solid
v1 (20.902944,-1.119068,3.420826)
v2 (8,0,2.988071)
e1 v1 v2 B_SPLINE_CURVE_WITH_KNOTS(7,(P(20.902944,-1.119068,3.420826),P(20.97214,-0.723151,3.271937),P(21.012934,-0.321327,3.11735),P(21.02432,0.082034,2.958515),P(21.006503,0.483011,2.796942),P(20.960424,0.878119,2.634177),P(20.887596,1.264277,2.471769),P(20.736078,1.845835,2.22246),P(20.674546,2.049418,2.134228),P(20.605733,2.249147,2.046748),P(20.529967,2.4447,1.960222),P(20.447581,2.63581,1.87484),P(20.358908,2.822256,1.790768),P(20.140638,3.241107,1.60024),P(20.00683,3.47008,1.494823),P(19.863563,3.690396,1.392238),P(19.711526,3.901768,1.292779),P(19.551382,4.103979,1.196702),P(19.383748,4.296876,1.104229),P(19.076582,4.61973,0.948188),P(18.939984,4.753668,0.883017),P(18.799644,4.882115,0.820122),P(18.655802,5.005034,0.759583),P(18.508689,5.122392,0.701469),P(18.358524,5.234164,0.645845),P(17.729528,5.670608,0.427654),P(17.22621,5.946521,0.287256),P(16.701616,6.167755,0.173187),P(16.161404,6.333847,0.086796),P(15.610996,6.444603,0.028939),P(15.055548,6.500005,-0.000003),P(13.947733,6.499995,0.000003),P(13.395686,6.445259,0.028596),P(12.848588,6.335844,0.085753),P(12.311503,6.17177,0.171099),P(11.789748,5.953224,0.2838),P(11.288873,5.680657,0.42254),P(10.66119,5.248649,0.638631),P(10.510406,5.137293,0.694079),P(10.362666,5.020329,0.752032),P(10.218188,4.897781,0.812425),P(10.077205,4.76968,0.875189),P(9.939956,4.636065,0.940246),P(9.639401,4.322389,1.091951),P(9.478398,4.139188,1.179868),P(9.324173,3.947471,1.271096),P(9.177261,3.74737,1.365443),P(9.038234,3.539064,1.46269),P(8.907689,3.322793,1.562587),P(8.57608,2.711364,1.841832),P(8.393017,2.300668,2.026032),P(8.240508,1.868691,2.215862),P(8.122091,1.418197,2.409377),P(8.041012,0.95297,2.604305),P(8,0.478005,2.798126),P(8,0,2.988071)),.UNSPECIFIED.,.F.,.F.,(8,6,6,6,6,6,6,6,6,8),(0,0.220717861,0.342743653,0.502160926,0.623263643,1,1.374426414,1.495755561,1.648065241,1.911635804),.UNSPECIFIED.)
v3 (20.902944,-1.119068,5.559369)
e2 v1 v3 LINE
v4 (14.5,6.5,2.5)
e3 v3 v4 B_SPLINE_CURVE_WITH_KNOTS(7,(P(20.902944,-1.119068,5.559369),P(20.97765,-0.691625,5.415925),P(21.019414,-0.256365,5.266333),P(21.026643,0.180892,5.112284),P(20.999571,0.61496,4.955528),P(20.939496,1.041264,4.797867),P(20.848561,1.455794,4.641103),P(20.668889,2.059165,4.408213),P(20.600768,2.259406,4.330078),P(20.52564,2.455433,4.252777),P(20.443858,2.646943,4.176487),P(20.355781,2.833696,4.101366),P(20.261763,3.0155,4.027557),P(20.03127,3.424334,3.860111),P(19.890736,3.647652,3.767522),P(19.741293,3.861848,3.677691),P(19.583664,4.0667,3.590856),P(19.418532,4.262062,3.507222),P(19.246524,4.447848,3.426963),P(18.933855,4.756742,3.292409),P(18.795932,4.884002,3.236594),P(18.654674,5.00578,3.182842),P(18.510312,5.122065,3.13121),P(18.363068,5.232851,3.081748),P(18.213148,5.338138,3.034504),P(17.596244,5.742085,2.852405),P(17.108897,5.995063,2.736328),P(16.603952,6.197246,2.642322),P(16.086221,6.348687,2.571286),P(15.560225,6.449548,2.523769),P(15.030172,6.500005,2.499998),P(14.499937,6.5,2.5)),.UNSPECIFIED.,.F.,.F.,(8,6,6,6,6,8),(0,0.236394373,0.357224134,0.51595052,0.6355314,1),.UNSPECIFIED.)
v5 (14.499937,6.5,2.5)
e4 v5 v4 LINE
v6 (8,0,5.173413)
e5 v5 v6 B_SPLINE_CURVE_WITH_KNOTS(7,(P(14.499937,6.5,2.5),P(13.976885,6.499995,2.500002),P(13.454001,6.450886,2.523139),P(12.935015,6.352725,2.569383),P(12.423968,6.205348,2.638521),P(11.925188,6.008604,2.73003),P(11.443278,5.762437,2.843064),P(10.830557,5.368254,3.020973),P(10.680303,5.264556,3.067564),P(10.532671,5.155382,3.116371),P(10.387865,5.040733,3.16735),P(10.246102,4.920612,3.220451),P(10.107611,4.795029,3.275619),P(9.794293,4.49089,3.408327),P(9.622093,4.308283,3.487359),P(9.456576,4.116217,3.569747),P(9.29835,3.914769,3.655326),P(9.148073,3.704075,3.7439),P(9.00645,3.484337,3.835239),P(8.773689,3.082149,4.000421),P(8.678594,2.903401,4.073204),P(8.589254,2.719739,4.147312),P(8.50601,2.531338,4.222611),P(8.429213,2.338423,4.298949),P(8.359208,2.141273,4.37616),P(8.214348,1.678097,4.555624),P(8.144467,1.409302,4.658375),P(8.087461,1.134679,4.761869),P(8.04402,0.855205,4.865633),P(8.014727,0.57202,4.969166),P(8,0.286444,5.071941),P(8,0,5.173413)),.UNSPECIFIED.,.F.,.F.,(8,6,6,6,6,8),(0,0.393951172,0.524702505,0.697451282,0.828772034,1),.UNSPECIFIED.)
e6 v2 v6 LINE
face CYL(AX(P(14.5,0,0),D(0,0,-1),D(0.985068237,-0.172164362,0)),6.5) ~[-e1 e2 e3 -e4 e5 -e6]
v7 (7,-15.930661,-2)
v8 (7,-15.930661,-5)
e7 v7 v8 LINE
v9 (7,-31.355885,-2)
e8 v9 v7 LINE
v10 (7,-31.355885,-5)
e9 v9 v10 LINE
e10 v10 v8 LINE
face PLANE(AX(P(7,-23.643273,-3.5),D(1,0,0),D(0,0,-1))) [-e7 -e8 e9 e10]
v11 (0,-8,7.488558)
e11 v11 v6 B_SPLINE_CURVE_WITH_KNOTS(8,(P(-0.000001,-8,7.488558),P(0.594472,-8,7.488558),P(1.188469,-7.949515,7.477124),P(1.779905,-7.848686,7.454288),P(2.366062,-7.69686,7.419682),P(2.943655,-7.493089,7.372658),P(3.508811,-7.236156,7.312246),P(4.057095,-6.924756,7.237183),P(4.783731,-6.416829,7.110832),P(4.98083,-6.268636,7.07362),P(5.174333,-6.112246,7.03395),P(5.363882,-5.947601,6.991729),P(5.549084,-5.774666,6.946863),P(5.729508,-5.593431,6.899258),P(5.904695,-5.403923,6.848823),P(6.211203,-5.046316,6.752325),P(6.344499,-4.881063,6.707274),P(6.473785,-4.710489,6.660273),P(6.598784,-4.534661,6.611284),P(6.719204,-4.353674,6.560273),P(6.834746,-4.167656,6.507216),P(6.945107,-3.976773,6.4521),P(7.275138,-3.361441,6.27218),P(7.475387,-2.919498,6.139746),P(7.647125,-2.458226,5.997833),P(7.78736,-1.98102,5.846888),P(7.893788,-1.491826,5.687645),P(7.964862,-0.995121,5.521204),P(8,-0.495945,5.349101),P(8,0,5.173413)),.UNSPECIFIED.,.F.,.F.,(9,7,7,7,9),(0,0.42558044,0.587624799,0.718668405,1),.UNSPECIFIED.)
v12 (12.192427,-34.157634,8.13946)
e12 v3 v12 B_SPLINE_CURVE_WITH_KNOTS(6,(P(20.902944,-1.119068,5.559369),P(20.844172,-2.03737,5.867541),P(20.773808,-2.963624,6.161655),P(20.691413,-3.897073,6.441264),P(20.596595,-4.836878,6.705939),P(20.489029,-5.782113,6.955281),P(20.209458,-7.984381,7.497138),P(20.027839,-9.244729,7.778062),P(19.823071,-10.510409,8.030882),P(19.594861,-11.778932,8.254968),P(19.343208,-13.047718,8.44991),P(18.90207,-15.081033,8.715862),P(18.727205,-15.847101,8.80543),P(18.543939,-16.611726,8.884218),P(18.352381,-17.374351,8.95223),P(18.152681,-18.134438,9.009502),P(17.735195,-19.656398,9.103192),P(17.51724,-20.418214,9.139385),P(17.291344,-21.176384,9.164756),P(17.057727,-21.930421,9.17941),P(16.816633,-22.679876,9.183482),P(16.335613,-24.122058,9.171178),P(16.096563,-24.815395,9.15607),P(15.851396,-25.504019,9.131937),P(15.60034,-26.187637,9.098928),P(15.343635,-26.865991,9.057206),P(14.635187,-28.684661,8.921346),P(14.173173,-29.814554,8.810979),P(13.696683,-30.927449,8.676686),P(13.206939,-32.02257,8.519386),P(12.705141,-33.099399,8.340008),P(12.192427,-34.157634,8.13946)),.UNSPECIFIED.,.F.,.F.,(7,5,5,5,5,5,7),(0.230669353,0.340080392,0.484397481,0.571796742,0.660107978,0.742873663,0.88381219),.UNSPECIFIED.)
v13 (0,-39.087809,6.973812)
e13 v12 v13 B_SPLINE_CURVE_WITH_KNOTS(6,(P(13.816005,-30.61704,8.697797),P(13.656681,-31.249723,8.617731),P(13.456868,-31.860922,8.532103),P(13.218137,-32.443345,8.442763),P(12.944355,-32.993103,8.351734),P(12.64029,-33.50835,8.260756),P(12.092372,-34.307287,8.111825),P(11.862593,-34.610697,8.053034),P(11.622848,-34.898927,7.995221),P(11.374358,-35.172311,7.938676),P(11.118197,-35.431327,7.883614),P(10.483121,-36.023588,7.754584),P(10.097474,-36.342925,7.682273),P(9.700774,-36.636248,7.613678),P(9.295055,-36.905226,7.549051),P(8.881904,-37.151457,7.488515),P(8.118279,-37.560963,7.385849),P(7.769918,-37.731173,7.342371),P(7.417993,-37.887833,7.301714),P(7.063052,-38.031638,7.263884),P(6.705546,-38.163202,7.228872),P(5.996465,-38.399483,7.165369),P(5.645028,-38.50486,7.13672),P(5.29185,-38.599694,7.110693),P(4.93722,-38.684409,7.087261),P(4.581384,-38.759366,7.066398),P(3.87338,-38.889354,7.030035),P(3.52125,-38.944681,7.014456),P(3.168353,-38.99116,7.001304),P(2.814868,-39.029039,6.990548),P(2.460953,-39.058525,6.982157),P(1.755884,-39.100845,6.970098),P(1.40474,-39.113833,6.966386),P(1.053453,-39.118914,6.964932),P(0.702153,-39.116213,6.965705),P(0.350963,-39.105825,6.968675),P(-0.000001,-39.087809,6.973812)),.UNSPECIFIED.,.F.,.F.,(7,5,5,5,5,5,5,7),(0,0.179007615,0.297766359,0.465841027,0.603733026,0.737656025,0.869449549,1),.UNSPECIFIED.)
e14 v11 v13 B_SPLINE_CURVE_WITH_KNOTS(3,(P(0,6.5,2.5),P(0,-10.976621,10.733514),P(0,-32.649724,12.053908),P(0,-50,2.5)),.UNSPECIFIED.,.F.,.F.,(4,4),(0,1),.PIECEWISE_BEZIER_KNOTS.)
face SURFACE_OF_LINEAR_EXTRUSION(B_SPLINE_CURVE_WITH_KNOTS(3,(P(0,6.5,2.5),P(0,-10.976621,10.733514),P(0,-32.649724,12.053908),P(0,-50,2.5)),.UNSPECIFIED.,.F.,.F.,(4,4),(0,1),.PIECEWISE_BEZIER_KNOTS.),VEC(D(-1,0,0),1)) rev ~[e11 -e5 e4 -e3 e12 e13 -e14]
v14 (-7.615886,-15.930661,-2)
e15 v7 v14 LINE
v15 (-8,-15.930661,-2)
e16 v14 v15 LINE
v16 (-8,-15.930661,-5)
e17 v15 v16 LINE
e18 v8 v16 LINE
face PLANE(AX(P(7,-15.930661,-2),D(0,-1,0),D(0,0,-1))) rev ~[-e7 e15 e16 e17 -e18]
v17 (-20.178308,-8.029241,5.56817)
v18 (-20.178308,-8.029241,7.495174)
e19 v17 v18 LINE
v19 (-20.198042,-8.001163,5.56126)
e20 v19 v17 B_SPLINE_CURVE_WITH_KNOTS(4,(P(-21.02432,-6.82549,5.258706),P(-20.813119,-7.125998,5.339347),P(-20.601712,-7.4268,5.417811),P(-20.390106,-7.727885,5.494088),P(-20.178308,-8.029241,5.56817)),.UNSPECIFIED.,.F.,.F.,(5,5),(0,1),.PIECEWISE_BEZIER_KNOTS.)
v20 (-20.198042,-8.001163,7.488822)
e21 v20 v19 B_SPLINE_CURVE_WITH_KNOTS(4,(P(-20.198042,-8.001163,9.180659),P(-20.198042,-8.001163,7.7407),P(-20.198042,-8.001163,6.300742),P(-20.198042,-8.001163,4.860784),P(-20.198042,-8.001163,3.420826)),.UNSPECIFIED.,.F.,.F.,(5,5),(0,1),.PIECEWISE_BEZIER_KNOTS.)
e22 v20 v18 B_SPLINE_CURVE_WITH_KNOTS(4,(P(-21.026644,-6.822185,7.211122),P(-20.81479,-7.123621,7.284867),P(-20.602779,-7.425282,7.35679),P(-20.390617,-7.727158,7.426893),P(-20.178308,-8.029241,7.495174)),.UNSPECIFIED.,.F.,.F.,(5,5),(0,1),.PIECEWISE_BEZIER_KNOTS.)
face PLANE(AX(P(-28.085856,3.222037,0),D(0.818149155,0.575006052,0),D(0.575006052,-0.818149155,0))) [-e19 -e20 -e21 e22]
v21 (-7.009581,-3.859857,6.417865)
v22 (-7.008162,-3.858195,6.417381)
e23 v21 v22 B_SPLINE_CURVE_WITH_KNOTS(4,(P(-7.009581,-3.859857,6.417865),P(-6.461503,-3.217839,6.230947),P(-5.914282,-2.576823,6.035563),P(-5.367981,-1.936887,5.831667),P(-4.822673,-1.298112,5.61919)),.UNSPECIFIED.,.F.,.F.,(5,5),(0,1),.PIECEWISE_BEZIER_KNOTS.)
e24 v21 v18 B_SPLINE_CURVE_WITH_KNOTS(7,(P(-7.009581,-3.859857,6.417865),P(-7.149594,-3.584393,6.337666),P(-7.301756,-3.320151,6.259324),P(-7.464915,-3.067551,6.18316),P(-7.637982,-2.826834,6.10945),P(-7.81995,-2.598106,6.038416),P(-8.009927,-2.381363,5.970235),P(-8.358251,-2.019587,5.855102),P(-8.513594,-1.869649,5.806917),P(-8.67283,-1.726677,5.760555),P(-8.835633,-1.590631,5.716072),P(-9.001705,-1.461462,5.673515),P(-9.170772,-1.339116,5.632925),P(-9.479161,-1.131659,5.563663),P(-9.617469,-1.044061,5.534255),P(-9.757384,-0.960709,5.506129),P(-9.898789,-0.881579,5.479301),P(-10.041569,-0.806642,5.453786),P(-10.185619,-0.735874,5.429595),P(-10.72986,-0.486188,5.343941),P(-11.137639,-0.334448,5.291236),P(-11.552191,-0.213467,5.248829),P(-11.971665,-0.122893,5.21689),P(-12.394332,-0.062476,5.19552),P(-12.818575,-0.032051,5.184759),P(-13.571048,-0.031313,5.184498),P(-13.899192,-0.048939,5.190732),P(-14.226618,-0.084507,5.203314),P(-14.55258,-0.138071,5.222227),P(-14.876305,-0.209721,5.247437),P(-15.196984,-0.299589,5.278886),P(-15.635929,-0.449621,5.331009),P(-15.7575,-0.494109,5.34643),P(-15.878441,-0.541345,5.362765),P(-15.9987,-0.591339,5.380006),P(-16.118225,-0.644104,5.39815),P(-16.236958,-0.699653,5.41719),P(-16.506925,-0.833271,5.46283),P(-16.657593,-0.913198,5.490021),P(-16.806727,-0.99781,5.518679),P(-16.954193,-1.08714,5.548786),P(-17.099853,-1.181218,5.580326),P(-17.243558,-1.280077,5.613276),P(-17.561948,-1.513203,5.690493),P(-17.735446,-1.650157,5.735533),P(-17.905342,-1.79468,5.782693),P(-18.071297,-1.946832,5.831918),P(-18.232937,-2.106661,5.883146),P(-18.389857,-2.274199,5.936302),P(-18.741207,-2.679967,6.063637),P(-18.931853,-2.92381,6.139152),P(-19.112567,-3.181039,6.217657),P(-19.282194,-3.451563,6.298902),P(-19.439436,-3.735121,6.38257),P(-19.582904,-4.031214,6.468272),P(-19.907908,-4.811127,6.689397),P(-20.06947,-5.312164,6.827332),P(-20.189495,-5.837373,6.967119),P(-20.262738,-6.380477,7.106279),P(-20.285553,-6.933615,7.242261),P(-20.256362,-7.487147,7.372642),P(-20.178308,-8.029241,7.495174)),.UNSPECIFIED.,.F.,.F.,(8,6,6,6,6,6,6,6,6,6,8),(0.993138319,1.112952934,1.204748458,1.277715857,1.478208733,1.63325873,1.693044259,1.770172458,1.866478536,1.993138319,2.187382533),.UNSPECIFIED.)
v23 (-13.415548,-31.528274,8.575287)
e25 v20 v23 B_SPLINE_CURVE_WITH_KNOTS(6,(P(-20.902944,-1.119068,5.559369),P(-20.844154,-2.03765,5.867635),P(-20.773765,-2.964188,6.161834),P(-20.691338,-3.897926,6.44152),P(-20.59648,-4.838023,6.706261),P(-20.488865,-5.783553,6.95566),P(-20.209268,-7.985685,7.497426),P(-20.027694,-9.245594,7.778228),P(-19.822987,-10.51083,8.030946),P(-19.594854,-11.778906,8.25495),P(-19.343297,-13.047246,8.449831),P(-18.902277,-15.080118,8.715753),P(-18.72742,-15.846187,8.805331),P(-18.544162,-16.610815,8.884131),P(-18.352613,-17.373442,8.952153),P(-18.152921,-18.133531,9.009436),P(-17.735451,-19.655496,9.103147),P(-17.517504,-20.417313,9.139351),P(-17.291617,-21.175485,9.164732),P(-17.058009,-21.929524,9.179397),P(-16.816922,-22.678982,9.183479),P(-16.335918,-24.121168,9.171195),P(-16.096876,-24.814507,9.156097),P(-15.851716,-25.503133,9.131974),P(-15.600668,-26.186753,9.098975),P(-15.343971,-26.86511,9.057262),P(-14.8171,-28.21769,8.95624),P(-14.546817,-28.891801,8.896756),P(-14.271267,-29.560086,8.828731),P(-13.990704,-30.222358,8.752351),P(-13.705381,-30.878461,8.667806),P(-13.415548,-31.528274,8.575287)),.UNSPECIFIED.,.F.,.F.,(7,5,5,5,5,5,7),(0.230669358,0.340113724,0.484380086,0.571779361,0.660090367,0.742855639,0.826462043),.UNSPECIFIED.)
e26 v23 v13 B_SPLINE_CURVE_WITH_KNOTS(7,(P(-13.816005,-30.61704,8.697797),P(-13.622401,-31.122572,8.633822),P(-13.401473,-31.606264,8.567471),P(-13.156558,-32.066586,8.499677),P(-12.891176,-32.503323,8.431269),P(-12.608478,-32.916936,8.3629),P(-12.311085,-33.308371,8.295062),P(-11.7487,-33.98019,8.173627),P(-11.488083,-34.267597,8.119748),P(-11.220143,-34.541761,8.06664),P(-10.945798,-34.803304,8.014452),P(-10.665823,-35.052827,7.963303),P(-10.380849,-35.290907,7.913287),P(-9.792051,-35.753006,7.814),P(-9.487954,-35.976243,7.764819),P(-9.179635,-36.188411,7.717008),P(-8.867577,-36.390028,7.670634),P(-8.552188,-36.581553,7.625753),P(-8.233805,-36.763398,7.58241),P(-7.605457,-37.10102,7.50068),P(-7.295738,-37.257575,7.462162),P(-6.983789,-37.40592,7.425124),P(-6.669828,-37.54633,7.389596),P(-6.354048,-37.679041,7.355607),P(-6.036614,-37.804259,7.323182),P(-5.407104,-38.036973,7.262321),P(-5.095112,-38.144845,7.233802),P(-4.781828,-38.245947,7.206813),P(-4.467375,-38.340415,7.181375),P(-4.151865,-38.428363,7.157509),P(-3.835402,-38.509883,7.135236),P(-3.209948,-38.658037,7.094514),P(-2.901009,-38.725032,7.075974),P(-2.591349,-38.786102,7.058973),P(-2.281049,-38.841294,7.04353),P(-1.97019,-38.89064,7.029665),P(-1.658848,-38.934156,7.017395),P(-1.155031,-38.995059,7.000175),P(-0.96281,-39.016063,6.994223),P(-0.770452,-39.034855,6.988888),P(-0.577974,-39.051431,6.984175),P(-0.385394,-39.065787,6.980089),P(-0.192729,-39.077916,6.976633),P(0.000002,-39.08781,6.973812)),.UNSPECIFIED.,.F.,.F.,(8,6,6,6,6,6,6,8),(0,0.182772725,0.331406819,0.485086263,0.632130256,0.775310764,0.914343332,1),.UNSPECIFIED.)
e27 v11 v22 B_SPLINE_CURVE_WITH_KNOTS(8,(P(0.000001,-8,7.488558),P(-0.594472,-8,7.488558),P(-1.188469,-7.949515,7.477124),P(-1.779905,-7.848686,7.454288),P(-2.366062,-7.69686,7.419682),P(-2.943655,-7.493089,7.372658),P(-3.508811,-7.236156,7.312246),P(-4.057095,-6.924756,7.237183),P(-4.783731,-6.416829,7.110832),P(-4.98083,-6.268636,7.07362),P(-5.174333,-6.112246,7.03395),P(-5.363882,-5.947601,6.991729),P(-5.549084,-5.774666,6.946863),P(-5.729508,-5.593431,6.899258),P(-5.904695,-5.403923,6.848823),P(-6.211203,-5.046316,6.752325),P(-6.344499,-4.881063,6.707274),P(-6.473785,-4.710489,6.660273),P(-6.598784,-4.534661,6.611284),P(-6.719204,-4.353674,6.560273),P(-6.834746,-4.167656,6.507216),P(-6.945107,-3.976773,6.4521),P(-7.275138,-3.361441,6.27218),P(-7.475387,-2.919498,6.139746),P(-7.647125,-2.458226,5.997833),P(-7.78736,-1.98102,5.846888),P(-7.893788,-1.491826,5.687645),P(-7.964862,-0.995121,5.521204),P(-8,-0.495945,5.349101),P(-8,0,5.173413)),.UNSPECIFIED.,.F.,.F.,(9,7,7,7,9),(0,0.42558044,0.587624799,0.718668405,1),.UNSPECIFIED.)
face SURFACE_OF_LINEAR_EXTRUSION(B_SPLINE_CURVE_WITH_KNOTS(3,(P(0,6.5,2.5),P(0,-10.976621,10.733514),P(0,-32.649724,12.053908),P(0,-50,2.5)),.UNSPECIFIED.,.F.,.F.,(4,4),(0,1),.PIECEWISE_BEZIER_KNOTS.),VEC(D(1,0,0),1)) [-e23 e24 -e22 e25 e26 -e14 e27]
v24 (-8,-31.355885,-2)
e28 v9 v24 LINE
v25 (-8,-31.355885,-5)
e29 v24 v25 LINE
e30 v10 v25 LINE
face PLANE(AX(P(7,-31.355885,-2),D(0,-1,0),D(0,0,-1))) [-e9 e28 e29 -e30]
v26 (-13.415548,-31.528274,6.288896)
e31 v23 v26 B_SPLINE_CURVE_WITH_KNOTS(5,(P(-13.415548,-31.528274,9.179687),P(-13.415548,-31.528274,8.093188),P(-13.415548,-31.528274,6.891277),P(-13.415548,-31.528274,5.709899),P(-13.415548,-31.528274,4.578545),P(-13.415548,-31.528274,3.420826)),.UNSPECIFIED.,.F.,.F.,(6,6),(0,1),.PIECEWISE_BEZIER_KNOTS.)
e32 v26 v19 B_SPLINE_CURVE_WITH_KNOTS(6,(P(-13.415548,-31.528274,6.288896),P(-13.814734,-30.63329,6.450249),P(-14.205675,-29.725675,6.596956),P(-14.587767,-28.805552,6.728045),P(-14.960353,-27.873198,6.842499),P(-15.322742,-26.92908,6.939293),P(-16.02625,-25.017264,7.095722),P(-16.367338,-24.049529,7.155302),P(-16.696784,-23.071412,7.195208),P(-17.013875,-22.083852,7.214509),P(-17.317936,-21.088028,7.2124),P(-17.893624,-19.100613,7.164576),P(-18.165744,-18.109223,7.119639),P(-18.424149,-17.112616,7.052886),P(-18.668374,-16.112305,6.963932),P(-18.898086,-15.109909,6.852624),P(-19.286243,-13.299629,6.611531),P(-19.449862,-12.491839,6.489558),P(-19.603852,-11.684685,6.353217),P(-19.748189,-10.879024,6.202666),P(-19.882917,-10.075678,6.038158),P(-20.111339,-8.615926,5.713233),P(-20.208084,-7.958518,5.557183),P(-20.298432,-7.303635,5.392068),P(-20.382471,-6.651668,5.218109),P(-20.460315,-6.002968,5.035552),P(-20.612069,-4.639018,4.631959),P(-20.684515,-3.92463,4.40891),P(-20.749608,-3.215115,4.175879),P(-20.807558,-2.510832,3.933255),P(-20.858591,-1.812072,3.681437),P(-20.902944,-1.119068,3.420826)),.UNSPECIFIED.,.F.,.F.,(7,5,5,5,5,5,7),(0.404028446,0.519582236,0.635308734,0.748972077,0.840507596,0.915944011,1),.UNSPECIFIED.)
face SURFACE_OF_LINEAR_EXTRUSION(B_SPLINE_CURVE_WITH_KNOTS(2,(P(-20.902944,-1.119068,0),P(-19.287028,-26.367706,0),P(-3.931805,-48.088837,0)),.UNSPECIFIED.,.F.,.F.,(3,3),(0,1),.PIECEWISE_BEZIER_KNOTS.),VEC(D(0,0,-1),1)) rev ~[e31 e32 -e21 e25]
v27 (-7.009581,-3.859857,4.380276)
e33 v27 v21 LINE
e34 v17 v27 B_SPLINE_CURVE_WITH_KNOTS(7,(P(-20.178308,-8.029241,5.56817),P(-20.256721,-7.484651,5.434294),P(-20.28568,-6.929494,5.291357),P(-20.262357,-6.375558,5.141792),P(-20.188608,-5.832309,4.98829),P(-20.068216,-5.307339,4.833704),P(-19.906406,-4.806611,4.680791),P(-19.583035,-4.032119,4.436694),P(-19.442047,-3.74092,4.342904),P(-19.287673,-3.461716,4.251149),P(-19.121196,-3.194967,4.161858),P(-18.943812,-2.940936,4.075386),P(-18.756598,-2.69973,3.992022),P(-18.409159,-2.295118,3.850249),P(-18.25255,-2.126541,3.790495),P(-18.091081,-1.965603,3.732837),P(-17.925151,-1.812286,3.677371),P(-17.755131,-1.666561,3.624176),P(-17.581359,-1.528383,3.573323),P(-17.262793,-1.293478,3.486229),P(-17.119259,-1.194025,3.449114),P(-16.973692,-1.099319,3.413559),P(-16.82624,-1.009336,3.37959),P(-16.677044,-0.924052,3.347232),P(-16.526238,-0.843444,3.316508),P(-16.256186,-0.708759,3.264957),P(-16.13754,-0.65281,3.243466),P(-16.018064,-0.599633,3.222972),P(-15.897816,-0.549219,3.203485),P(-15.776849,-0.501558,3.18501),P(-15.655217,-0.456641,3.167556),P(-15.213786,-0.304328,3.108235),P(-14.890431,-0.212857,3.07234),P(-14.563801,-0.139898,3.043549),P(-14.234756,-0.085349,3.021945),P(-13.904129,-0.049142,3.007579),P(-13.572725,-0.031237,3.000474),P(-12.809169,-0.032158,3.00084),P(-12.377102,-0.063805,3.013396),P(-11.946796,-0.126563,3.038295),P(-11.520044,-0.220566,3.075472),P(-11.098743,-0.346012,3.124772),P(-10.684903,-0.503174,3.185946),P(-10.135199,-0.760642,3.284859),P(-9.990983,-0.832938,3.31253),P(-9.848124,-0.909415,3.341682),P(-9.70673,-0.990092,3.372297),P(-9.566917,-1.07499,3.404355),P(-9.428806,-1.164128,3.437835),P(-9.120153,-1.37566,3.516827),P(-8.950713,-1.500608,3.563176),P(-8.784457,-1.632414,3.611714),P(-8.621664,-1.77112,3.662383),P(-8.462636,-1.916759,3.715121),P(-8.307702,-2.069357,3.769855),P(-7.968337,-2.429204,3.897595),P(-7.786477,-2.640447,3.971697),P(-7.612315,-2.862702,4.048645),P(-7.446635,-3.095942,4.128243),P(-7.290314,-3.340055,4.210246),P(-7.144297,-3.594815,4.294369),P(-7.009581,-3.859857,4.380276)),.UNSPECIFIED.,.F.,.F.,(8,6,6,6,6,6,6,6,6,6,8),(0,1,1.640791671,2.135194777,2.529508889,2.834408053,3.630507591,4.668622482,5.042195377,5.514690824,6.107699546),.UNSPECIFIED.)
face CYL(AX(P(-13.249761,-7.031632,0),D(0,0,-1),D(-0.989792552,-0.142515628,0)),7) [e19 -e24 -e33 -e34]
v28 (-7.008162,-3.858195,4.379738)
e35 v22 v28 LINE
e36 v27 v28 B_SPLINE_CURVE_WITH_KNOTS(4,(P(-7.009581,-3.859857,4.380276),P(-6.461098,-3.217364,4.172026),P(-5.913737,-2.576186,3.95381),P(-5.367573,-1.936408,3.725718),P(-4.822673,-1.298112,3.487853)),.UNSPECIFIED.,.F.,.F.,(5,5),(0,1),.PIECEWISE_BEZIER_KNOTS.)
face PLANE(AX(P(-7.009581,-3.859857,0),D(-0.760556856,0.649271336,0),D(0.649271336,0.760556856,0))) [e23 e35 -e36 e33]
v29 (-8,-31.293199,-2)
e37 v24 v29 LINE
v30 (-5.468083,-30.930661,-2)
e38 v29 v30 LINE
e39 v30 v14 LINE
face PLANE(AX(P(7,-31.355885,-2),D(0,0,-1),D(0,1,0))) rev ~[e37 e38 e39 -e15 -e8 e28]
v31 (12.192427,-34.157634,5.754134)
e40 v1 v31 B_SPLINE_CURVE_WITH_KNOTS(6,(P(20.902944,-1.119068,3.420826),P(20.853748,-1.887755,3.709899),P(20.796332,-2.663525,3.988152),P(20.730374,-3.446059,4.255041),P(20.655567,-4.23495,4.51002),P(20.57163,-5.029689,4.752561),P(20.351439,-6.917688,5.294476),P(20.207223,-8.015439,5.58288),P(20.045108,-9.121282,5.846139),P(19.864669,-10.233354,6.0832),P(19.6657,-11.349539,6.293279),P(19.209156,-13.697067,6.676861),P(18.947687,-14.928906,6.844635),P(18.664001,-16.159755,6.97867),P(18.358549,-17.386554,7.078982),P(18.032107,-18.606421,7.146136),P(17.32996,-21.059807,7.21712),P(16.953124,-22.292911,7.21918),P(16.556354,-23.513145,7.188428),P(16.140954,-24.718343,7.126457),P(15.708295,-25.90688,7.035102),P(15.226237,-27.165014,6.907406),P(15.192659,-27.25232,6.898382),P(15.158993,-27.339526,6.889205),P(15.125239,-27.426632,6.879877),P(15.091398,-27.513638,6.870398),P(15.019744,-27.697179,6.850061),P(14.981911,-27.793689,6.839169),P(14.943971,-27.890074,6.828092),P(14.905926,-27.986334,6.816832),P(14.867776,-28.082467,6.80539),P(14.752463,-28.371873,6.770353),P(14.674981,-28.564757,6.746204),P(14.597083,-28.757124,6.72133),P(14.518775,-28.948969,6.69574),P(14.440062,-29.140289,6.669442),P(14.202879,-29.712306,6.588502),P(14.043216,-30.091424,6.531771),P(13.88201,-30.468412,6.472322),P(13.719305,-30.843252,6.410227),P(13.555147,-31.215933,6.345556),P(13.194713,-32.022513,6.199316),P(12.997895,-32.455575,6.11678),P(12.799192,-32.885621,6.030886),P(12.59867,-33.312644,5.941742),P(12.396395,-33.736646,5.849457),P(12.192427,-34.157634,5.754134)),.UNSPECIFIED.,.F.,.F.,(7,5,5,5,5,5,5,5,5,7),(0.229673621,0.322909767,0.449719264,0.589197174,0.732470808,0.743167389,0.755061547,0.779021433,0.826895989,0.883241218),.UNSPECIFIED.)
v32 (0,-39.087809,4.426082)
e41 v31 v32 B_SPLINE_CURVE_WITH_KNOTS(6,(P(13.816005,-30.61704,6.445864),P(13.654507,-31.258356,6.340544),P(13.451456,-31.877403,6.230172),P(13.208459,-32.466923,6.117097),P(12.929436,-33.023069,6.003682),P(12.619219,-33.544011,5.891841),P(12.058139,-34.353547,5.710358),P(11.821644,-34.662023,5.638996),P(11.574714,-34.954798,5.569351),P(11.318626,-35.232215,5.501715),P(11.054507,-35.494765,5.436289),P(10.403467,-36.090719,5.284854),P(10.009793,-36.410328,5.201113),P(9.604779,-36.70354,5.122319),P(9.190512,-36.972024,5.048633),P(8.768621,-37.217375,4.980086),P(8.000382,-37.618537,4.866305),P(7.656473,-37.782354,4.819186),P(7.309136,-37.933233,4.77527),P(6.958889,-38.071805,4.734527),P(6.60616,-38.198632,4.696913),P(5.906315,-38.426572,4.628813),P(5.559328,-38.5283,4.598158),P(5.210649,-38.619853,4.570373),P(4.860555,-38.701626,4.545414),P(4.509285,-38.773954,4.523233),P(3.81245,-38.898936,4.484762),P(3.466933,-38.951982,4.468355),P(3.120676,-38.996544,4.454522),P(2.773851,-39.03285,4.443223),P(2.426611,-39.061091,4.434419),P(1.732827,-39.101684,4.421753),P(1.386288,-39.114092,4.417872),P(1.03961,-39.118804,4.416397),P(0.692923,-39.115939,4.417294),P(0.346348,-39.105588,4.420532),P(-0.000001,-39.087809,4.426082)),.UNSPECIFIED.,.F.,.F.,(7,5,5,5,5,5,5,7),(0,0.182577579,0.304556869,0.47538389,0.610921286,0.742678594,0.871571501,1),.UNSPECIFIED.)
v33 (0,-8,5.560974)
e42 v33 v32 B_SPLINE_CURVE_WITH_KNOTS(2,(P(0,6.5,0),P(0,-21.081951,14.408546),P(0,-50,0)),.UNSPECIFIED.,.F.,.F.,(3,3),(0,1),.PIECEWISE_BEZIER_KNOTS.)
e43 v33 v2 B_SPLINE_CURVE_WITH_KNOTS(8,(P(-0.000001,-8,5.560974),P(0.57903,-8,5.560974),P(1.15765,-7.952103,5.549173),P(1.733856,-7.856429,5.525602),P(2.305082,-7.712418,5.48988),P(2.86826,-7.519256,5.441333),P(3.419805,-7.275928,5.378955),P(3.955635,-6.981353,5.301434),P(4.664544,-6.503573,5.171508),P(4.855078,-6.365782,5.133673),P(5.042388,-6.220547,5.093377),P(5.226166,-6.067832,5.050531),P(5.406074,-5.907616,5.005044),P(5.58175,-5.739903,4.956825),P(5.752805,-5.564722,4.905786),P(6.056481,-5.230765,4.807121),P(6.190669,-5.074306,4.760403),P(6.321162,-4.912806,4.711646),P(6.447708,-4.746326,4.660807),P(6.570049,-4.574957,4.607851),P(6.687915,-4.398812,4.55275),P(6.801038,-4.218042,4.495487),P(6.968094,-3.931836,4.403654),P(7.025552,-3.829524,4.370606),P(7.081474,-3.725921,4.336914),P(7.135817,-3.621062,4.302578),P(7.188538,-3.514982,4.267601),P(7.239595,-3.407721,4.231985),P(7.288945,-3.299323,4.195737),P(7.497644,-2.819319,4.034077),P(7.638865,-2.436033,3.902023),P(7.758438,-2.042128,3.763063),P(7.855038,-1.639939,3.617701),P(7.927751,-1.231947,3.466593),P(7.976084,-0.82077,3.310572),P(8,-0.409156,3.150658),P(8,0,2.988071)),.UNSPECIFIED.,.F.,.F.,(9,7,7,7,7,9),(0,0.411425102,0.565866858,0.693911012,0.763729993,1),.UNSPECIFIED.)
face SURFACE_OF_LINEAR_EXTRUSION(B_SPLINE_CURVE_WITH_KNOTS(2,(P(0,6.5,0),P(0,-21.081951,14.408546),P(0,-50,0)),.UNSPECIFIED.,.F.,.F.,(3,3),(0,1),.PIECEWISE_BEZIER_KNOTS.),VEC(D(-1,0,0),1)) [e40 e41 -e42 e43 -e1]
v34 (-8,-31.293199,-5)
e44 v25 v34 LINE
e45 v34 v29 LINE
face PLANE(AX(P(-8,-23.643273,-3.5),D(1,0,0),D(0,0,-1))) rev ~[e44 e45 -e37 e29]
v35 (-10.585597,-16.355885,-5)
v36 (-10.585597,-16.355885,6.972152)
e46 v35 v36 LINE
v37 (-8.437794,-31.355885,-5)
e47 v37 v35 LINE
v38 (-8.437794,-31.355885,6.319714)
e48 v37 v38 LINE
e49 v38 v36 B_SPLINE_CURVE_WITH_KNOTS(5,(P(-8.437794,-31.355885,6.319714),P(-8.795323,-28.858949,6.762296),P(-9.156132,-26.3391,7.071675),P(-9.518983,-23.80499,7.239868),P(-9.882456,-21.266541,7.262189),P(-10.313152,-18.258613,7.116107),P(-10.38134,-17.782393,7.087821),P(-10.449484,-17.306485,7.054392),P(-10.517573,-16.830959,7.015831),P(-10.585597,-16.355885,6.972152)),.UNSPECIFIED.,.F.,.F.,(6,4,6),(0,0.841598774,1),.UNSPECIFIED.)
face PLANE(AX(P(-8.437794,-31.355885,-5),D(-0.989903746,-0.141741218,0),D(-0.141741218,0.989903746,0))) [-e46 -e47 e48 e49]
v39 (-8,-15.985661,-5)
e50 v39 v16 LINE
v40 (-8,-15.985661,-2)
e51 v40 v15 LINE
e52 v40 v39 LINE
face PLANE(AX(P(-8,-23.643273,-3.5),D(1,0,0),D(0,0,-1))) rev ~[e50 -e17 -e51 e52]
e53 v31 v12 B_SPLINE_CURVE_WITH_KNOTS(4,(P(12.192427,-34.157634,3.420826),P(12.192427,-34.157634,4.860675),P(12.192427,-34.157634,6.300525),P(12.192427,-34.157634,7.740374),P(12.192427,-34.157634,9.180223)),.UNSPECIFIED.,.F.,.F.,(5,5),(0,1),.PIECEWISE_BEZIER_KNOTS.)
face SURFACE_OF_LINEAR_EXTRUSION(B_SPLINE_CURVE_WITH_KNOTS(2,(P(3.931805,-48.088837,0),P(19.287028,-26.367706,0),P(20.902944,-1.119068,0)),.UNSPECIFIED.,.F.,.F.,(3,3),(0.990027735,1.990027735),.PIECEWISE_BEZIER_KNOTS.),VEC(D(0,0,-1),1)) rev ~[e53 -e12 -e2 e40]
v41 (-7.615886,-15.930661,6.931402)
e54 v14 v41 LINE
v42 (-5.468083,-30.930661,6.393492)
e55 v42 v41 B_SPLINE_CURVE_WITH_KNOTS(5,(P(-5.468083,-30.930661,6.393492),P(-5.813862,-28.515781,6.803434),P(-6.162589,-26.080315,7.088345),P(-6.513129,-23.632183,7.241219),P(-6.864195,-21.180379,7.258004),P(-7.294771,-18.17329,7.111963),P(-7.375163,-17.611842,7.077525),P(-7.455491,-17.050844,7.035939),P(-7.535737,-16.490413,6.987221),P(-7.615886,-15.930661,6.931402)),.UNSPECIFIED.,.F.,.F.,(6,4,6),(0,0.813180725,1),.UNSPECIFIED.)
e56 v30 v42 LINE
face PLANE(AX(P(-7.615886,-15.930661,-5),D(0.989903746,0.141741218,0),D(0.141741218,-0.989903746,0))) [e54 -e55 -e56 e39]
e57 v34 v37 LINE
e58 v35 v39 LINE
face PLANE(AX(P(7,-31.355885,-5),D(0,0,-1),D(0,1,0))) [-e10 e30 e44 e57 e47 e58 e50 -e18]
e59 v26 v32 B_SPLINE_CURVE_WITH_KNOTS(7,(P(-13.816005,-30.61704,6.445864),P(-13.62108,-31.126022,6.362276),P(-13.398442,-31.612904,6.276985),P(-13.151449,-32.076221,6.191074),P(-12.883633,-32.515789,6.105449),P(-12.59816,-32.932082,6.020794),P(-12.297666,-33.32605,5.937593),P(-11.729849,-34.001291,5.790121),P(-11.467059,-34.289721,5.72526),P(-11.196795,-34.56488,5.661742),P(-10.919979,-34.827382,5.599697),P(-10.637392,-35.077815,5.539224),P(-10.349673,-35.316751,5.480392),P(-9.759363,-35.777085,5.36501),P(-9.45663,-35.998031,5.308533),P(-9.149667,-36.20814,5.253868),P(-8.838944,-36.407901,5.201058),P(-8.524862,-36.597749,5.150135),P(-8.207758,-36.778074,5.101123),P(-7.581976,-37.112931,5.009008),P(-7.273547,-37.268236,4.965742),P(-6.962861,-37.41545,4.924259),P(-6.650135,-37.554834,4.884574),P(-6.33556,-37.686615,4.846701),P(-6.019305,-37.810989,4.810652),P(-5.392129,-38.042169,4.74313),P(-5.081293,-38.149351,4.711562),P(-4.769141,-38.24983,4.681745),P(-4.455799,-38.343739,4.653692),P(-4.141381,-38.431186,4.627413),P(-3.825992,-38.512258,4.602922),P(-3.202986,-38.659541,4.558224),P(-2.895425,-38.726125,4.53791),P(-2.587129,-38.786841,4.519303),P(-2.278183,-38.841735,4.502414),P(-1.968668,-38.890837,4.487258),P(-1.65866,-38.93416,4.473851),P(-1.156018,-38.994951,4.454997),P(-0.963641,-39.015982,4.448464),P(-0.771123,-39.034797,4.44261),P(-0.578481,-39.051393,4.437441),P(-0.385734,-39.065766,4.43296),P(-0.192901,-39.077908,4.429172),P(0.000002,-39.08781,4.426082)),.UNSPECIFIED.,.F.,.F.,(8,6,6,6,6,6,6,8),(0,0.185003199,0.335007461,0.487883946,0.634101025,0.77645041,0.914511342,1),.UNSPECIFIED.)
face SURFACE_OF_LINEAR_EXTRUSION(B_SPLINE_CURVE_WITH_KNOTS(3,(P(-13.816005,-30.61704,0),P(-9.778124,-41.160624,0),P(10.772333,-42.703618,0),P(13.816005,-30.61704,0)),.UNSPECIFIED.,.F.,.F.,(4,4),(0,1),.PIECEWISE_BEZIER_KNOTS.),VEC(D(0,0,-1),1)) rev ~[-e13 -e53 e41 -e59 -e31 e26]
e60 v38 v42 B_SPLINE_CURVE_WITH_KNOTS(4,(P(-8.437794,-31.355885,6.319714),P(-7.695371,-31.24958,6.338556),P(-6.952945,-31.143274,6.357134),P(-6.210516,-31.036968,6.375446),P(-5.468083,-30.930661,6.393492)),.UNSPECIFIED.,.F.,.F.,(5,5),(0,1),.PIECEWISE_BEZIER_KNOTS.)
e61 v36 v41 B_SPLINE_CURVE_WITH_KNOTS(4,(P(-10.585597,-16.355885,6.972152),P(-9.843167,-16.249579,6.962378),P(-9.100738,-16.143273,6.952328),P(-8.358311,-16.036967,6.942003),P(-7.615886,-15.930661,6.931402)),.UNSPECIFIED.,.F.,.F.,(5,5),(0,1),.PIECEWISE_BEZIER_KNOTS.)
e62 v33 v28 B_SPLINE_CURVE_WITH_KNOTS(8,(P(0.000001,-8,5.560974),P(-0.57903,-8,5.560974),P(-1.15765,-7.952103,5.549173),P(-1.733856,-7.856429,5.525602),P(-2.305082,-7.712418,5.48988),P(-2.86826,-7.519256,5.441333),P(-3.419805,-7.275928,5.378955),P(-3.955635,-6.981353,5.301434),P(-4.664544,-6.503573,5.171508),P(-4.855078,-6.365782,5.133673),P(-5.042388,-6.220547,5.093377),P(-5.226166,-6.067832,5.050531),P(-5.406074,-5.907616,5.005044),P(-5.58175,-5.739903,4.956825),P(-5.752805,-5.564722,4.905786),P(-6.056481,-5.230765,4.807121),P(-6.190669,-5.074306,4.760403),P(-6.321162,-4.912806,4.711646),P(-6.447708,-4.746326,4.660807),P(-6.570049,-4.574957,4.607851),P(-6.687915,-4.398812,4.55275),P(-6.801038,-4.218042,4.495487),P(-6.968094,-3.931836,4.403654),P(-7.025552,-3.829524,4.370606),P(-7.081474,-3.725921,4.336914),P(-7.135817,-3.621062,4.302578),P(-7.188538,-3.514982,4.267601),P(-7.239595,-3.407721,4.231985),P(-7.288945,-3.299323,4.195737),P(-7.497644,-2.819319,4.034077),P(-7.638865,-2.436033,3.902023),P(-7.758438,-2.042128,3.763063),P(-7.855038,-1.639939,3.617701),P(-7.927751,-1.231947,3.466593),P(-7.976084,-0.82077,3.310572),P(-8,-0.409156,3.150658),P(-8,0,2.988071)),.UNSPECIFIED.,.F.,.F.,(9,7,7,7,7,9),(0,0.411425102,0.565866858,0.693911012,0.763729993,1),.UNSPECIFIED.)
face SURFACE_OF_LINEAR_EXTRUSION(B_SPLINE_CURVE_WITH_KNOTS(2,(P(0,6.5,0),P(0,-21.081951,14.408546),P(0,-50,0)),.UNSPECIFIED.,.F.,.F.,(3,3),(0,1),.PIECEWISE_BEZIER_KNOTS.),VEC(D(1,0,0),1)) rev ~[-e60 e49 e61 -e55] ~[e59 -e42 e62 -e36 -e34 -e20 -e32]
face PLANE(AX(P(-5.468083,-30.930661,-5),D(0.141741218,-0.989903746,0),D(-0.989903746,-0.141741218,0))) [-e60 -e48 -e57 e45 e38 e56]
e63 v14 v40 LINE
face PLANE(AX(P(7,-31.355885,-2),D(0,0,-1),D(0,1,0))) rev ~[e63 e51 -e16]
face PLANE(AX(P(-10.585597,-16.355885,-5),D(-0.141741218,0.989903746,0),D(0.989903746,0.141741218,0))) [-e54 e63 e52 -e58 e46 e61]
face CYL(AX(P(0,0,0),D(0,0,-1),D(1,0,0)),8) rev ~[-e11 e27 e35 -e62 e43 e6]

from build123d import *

# Parameters (mm, degrees)
BOSS_EXTRUDE1_DEPTH     = 10
SKETCH3_W               = 26.349262508
SKETCH3_H               = 68.843906453
CUT_EXTRUDE1_DEPTH      = 56.145262863
CUT_EXTRUDE1_DEPTH_BACK = 56.145262863
CUT_EXTRUDE2_DEPTH      = 56.002384149
CUT_EXTRUDE2_DEPTH_BACK = 56.002384149
CUT_EXTRUDE4_DEPTH      = 10
CUT_EXTRUDE5_DEPTH      = 46.333254596
CUT_EXTRUDE5_DEPTH_BACK = 46.333254596
BOSS_EXTRUDE2_START     = -5
BOSS_EXTRUDE2_DEPTH     = 13
BOSS_EXTRUDE4_START     = 7
SKETCH11_W              = 3
SKETCH11_H              = 15.425223653
BOSS_EXTRUDE4_DEPTH     = 15


with BuildPart() as part:
    # Sketch2 → Boss-Extrude1 (new body)
    with BuildSketch(Plane.XY):
        with BuildLine():
            ThreePointArc((20.902943543, -1.119068355), (15.061634654, 6.475690428), (8, 0))
            ThreePointArc((8, 0), (0, -8), (-8, 0))
            ThreePointArc((-8, 0), (-15.061634654, 6.475690428), (-20.902943543, -1.119068355))
            add(Edge.make_bspline(
                [(-20.902943543, -1.119068355), (-19.287028044, -26.367706227), (-3.931804619, -48.088836745)],
                knots=[0, 0, 0, 1, 1, 1], degree=2))
            ThreePointArc((-3.931804619, -48.088836745), (0, -50), (3.931804619, -48.088836745))
            add(Edge.make_bspline(
                [(3.931804619, -48.088836745), (19.287028044, -26.367706227), (20.902943543, -1.119068355)],
                knots=[0.990027735, 0.990027735, 0.990027735, 1.990027735, 1.990027735, 1.990027735], degree=2))
        make_face()
    extrude(amount=BOSS_EXTRUDE1_DEPTH)

    # Sketch3 → Cut-Extrude1 (cut, two sides)
    with BuildSketch(Plane(origin=(0, 0, 0), x_dir=(0, 0, -1), z_dir=(1, 0, 0))) as cut_extrude1_sk:
        with Locations((-0.626059786, -22.605093502)):
            Rectangle(SKETCH3_W, SKETCH3_H)
        with BuildLine():
            Line((-2.5, 6.5), (0, 6.5))
            add(Edge.make_bspline(
                [(0, 6.5), (-14.408545927, -21.081950651), (0, -50)],
                knots=[0, 0, 0, 1, 1, 1], degree=2))
            Line((0, -50), (-2.5, -50))
            add(Edge.make_bspline(
                [(-2.5, 6.5), (-10.733514135, -10.976620558), (-12.053907629, -32.649723791), (-2.5, -50)],
                knots=[0, 0, 0, 0, 1, 1, 1, 1], degree=3))
        make_face(mode=Mode.SUBTRACT)
    extrude(amount=CUT_EXTRUDE1_DEPTH, mode=Mode.SUBTRACT)
    extrude(cut_extrude1_sk.sketch, amount=-CUT_EXTRUDE1_DEPTH_BACK, mode=Mode.SUBTRACT)

    # Sketch6 → Cut-Extrude2 (cut, two sides)
    with BuildSketch(Plane.XY) as cut_extrude2_sk:
        with BuildLine():
            Line((-9.557408926, -39.200378686), (-14.826233878, -49.923840658))
            Line((-14.826233878, -49.923840658), (21.939629108, -53.600426957))
            Line((21.939629108, -53.600426957), (9.557408926, -39.200378686))
            add(Edge.make_bspline(
                [(-9.557408926, -39.200378686), (-5.942899698, -46.006320571), (5.857464148, -45.921239034), (9.557408926, -39.200378686)],
                knots=[0, 0, 0, 0, 1, 1, 1, 1], degree=3))
        make_face()
    extrude(amount=CUT_EXTRUDE2_DEPTH, mode=Mode.SUBTRACT)
    extrude(cut_extrude2_sk.sketch, amount=-CUT_EXTRUDE2_DEPTH_BACK, mode=Mode.SUBTRACT)

    # Sketch8 → Cut-Extrude4 (cut)
    with BuildSketch(Plane.XY):
        with BuildLine():
            Line((-13.816005164, -30.617040202), (-11.76409894, -45.724796066))
            Line((-11.76409894, -45.724796066), (9.724502839, -47.837234885))
            Line((9.724502839, -47.837234885), (13.816005164, -30.617040202))
            add(Edge.make_bspline(
                [(-13.816005164, -30.617040202), (-9.778124174, -41.160624176), (10.772333276, -42.703617762), (13.816005164, -30.617040202)],
                knots=[0, 0, 0, 0, 1, 1, 1, 1], degree=3))
        make_face()
    extrude(amount=CUT_EXTRUDE4_DEPTH, mode=Mode.SUBTRACT)

    # Sketch9 → Cut-Extrude5 (cut, two sides)
    with BuildSketch(Plane.XY) as cut_extrude5_sk:
        with BuildLine():
            Line((-28.08585552, 3.22203692), (-20.178308463, -8.029241074))
            ThreePointArc((-20.178308463, -8.029241074), (-15.362673917, -0.358132046), (-7.0095805, -3.859857359))
            Line((-7.0095805, -3.859857359), (-4.822672945, -1.298112458))
            Line((-4.822672945, -1.298112458), (-10.044224813, 8.365655178))
            Line((-10.044224813, 8.365655178), (-28.08585552, 3.22203692))
        make_face()
    extrude(amount=CUT_EXTRUDE5_DEPTH, mode=Mode.SUBTRACT)
    extrude(cut_extrude5_sk.sketch, amount=-CUT_EXTRUDE5_DEPTH_BACK, mode=Mode.SUBTRACT)

    # Sketch10 → Boss-Extrude2 (add)
    with BuildSketch(Plane.XY.offset(BOSS_EXTRUDE2_START)):
        Polygon((-7.615886076, -15.930661374), (-5.468083043, -30.930661374), (-8.437794283, -31.355885027), (-10.585597315, -16.355885027), align=None)
    extrude(amount=BOSS_EXTRUDE2_DEPTH)

    # Sketch11 → Boss-Extrude4 (add)
    with BuildSketch(Plane(origin=(0, 0, 0), x_dir=(0, 0, -1), z_dir=(1, 0, 0)).offset(BOSS_EXTRUDE4_START)):
        with Locations((3.5, -23.643273201)):
            Rectangle(SKETCH11_W, SKETCH11_H)
    extrude(amount=-BOSS_EXTRUDE4_DEPTH)


solid = part.part
